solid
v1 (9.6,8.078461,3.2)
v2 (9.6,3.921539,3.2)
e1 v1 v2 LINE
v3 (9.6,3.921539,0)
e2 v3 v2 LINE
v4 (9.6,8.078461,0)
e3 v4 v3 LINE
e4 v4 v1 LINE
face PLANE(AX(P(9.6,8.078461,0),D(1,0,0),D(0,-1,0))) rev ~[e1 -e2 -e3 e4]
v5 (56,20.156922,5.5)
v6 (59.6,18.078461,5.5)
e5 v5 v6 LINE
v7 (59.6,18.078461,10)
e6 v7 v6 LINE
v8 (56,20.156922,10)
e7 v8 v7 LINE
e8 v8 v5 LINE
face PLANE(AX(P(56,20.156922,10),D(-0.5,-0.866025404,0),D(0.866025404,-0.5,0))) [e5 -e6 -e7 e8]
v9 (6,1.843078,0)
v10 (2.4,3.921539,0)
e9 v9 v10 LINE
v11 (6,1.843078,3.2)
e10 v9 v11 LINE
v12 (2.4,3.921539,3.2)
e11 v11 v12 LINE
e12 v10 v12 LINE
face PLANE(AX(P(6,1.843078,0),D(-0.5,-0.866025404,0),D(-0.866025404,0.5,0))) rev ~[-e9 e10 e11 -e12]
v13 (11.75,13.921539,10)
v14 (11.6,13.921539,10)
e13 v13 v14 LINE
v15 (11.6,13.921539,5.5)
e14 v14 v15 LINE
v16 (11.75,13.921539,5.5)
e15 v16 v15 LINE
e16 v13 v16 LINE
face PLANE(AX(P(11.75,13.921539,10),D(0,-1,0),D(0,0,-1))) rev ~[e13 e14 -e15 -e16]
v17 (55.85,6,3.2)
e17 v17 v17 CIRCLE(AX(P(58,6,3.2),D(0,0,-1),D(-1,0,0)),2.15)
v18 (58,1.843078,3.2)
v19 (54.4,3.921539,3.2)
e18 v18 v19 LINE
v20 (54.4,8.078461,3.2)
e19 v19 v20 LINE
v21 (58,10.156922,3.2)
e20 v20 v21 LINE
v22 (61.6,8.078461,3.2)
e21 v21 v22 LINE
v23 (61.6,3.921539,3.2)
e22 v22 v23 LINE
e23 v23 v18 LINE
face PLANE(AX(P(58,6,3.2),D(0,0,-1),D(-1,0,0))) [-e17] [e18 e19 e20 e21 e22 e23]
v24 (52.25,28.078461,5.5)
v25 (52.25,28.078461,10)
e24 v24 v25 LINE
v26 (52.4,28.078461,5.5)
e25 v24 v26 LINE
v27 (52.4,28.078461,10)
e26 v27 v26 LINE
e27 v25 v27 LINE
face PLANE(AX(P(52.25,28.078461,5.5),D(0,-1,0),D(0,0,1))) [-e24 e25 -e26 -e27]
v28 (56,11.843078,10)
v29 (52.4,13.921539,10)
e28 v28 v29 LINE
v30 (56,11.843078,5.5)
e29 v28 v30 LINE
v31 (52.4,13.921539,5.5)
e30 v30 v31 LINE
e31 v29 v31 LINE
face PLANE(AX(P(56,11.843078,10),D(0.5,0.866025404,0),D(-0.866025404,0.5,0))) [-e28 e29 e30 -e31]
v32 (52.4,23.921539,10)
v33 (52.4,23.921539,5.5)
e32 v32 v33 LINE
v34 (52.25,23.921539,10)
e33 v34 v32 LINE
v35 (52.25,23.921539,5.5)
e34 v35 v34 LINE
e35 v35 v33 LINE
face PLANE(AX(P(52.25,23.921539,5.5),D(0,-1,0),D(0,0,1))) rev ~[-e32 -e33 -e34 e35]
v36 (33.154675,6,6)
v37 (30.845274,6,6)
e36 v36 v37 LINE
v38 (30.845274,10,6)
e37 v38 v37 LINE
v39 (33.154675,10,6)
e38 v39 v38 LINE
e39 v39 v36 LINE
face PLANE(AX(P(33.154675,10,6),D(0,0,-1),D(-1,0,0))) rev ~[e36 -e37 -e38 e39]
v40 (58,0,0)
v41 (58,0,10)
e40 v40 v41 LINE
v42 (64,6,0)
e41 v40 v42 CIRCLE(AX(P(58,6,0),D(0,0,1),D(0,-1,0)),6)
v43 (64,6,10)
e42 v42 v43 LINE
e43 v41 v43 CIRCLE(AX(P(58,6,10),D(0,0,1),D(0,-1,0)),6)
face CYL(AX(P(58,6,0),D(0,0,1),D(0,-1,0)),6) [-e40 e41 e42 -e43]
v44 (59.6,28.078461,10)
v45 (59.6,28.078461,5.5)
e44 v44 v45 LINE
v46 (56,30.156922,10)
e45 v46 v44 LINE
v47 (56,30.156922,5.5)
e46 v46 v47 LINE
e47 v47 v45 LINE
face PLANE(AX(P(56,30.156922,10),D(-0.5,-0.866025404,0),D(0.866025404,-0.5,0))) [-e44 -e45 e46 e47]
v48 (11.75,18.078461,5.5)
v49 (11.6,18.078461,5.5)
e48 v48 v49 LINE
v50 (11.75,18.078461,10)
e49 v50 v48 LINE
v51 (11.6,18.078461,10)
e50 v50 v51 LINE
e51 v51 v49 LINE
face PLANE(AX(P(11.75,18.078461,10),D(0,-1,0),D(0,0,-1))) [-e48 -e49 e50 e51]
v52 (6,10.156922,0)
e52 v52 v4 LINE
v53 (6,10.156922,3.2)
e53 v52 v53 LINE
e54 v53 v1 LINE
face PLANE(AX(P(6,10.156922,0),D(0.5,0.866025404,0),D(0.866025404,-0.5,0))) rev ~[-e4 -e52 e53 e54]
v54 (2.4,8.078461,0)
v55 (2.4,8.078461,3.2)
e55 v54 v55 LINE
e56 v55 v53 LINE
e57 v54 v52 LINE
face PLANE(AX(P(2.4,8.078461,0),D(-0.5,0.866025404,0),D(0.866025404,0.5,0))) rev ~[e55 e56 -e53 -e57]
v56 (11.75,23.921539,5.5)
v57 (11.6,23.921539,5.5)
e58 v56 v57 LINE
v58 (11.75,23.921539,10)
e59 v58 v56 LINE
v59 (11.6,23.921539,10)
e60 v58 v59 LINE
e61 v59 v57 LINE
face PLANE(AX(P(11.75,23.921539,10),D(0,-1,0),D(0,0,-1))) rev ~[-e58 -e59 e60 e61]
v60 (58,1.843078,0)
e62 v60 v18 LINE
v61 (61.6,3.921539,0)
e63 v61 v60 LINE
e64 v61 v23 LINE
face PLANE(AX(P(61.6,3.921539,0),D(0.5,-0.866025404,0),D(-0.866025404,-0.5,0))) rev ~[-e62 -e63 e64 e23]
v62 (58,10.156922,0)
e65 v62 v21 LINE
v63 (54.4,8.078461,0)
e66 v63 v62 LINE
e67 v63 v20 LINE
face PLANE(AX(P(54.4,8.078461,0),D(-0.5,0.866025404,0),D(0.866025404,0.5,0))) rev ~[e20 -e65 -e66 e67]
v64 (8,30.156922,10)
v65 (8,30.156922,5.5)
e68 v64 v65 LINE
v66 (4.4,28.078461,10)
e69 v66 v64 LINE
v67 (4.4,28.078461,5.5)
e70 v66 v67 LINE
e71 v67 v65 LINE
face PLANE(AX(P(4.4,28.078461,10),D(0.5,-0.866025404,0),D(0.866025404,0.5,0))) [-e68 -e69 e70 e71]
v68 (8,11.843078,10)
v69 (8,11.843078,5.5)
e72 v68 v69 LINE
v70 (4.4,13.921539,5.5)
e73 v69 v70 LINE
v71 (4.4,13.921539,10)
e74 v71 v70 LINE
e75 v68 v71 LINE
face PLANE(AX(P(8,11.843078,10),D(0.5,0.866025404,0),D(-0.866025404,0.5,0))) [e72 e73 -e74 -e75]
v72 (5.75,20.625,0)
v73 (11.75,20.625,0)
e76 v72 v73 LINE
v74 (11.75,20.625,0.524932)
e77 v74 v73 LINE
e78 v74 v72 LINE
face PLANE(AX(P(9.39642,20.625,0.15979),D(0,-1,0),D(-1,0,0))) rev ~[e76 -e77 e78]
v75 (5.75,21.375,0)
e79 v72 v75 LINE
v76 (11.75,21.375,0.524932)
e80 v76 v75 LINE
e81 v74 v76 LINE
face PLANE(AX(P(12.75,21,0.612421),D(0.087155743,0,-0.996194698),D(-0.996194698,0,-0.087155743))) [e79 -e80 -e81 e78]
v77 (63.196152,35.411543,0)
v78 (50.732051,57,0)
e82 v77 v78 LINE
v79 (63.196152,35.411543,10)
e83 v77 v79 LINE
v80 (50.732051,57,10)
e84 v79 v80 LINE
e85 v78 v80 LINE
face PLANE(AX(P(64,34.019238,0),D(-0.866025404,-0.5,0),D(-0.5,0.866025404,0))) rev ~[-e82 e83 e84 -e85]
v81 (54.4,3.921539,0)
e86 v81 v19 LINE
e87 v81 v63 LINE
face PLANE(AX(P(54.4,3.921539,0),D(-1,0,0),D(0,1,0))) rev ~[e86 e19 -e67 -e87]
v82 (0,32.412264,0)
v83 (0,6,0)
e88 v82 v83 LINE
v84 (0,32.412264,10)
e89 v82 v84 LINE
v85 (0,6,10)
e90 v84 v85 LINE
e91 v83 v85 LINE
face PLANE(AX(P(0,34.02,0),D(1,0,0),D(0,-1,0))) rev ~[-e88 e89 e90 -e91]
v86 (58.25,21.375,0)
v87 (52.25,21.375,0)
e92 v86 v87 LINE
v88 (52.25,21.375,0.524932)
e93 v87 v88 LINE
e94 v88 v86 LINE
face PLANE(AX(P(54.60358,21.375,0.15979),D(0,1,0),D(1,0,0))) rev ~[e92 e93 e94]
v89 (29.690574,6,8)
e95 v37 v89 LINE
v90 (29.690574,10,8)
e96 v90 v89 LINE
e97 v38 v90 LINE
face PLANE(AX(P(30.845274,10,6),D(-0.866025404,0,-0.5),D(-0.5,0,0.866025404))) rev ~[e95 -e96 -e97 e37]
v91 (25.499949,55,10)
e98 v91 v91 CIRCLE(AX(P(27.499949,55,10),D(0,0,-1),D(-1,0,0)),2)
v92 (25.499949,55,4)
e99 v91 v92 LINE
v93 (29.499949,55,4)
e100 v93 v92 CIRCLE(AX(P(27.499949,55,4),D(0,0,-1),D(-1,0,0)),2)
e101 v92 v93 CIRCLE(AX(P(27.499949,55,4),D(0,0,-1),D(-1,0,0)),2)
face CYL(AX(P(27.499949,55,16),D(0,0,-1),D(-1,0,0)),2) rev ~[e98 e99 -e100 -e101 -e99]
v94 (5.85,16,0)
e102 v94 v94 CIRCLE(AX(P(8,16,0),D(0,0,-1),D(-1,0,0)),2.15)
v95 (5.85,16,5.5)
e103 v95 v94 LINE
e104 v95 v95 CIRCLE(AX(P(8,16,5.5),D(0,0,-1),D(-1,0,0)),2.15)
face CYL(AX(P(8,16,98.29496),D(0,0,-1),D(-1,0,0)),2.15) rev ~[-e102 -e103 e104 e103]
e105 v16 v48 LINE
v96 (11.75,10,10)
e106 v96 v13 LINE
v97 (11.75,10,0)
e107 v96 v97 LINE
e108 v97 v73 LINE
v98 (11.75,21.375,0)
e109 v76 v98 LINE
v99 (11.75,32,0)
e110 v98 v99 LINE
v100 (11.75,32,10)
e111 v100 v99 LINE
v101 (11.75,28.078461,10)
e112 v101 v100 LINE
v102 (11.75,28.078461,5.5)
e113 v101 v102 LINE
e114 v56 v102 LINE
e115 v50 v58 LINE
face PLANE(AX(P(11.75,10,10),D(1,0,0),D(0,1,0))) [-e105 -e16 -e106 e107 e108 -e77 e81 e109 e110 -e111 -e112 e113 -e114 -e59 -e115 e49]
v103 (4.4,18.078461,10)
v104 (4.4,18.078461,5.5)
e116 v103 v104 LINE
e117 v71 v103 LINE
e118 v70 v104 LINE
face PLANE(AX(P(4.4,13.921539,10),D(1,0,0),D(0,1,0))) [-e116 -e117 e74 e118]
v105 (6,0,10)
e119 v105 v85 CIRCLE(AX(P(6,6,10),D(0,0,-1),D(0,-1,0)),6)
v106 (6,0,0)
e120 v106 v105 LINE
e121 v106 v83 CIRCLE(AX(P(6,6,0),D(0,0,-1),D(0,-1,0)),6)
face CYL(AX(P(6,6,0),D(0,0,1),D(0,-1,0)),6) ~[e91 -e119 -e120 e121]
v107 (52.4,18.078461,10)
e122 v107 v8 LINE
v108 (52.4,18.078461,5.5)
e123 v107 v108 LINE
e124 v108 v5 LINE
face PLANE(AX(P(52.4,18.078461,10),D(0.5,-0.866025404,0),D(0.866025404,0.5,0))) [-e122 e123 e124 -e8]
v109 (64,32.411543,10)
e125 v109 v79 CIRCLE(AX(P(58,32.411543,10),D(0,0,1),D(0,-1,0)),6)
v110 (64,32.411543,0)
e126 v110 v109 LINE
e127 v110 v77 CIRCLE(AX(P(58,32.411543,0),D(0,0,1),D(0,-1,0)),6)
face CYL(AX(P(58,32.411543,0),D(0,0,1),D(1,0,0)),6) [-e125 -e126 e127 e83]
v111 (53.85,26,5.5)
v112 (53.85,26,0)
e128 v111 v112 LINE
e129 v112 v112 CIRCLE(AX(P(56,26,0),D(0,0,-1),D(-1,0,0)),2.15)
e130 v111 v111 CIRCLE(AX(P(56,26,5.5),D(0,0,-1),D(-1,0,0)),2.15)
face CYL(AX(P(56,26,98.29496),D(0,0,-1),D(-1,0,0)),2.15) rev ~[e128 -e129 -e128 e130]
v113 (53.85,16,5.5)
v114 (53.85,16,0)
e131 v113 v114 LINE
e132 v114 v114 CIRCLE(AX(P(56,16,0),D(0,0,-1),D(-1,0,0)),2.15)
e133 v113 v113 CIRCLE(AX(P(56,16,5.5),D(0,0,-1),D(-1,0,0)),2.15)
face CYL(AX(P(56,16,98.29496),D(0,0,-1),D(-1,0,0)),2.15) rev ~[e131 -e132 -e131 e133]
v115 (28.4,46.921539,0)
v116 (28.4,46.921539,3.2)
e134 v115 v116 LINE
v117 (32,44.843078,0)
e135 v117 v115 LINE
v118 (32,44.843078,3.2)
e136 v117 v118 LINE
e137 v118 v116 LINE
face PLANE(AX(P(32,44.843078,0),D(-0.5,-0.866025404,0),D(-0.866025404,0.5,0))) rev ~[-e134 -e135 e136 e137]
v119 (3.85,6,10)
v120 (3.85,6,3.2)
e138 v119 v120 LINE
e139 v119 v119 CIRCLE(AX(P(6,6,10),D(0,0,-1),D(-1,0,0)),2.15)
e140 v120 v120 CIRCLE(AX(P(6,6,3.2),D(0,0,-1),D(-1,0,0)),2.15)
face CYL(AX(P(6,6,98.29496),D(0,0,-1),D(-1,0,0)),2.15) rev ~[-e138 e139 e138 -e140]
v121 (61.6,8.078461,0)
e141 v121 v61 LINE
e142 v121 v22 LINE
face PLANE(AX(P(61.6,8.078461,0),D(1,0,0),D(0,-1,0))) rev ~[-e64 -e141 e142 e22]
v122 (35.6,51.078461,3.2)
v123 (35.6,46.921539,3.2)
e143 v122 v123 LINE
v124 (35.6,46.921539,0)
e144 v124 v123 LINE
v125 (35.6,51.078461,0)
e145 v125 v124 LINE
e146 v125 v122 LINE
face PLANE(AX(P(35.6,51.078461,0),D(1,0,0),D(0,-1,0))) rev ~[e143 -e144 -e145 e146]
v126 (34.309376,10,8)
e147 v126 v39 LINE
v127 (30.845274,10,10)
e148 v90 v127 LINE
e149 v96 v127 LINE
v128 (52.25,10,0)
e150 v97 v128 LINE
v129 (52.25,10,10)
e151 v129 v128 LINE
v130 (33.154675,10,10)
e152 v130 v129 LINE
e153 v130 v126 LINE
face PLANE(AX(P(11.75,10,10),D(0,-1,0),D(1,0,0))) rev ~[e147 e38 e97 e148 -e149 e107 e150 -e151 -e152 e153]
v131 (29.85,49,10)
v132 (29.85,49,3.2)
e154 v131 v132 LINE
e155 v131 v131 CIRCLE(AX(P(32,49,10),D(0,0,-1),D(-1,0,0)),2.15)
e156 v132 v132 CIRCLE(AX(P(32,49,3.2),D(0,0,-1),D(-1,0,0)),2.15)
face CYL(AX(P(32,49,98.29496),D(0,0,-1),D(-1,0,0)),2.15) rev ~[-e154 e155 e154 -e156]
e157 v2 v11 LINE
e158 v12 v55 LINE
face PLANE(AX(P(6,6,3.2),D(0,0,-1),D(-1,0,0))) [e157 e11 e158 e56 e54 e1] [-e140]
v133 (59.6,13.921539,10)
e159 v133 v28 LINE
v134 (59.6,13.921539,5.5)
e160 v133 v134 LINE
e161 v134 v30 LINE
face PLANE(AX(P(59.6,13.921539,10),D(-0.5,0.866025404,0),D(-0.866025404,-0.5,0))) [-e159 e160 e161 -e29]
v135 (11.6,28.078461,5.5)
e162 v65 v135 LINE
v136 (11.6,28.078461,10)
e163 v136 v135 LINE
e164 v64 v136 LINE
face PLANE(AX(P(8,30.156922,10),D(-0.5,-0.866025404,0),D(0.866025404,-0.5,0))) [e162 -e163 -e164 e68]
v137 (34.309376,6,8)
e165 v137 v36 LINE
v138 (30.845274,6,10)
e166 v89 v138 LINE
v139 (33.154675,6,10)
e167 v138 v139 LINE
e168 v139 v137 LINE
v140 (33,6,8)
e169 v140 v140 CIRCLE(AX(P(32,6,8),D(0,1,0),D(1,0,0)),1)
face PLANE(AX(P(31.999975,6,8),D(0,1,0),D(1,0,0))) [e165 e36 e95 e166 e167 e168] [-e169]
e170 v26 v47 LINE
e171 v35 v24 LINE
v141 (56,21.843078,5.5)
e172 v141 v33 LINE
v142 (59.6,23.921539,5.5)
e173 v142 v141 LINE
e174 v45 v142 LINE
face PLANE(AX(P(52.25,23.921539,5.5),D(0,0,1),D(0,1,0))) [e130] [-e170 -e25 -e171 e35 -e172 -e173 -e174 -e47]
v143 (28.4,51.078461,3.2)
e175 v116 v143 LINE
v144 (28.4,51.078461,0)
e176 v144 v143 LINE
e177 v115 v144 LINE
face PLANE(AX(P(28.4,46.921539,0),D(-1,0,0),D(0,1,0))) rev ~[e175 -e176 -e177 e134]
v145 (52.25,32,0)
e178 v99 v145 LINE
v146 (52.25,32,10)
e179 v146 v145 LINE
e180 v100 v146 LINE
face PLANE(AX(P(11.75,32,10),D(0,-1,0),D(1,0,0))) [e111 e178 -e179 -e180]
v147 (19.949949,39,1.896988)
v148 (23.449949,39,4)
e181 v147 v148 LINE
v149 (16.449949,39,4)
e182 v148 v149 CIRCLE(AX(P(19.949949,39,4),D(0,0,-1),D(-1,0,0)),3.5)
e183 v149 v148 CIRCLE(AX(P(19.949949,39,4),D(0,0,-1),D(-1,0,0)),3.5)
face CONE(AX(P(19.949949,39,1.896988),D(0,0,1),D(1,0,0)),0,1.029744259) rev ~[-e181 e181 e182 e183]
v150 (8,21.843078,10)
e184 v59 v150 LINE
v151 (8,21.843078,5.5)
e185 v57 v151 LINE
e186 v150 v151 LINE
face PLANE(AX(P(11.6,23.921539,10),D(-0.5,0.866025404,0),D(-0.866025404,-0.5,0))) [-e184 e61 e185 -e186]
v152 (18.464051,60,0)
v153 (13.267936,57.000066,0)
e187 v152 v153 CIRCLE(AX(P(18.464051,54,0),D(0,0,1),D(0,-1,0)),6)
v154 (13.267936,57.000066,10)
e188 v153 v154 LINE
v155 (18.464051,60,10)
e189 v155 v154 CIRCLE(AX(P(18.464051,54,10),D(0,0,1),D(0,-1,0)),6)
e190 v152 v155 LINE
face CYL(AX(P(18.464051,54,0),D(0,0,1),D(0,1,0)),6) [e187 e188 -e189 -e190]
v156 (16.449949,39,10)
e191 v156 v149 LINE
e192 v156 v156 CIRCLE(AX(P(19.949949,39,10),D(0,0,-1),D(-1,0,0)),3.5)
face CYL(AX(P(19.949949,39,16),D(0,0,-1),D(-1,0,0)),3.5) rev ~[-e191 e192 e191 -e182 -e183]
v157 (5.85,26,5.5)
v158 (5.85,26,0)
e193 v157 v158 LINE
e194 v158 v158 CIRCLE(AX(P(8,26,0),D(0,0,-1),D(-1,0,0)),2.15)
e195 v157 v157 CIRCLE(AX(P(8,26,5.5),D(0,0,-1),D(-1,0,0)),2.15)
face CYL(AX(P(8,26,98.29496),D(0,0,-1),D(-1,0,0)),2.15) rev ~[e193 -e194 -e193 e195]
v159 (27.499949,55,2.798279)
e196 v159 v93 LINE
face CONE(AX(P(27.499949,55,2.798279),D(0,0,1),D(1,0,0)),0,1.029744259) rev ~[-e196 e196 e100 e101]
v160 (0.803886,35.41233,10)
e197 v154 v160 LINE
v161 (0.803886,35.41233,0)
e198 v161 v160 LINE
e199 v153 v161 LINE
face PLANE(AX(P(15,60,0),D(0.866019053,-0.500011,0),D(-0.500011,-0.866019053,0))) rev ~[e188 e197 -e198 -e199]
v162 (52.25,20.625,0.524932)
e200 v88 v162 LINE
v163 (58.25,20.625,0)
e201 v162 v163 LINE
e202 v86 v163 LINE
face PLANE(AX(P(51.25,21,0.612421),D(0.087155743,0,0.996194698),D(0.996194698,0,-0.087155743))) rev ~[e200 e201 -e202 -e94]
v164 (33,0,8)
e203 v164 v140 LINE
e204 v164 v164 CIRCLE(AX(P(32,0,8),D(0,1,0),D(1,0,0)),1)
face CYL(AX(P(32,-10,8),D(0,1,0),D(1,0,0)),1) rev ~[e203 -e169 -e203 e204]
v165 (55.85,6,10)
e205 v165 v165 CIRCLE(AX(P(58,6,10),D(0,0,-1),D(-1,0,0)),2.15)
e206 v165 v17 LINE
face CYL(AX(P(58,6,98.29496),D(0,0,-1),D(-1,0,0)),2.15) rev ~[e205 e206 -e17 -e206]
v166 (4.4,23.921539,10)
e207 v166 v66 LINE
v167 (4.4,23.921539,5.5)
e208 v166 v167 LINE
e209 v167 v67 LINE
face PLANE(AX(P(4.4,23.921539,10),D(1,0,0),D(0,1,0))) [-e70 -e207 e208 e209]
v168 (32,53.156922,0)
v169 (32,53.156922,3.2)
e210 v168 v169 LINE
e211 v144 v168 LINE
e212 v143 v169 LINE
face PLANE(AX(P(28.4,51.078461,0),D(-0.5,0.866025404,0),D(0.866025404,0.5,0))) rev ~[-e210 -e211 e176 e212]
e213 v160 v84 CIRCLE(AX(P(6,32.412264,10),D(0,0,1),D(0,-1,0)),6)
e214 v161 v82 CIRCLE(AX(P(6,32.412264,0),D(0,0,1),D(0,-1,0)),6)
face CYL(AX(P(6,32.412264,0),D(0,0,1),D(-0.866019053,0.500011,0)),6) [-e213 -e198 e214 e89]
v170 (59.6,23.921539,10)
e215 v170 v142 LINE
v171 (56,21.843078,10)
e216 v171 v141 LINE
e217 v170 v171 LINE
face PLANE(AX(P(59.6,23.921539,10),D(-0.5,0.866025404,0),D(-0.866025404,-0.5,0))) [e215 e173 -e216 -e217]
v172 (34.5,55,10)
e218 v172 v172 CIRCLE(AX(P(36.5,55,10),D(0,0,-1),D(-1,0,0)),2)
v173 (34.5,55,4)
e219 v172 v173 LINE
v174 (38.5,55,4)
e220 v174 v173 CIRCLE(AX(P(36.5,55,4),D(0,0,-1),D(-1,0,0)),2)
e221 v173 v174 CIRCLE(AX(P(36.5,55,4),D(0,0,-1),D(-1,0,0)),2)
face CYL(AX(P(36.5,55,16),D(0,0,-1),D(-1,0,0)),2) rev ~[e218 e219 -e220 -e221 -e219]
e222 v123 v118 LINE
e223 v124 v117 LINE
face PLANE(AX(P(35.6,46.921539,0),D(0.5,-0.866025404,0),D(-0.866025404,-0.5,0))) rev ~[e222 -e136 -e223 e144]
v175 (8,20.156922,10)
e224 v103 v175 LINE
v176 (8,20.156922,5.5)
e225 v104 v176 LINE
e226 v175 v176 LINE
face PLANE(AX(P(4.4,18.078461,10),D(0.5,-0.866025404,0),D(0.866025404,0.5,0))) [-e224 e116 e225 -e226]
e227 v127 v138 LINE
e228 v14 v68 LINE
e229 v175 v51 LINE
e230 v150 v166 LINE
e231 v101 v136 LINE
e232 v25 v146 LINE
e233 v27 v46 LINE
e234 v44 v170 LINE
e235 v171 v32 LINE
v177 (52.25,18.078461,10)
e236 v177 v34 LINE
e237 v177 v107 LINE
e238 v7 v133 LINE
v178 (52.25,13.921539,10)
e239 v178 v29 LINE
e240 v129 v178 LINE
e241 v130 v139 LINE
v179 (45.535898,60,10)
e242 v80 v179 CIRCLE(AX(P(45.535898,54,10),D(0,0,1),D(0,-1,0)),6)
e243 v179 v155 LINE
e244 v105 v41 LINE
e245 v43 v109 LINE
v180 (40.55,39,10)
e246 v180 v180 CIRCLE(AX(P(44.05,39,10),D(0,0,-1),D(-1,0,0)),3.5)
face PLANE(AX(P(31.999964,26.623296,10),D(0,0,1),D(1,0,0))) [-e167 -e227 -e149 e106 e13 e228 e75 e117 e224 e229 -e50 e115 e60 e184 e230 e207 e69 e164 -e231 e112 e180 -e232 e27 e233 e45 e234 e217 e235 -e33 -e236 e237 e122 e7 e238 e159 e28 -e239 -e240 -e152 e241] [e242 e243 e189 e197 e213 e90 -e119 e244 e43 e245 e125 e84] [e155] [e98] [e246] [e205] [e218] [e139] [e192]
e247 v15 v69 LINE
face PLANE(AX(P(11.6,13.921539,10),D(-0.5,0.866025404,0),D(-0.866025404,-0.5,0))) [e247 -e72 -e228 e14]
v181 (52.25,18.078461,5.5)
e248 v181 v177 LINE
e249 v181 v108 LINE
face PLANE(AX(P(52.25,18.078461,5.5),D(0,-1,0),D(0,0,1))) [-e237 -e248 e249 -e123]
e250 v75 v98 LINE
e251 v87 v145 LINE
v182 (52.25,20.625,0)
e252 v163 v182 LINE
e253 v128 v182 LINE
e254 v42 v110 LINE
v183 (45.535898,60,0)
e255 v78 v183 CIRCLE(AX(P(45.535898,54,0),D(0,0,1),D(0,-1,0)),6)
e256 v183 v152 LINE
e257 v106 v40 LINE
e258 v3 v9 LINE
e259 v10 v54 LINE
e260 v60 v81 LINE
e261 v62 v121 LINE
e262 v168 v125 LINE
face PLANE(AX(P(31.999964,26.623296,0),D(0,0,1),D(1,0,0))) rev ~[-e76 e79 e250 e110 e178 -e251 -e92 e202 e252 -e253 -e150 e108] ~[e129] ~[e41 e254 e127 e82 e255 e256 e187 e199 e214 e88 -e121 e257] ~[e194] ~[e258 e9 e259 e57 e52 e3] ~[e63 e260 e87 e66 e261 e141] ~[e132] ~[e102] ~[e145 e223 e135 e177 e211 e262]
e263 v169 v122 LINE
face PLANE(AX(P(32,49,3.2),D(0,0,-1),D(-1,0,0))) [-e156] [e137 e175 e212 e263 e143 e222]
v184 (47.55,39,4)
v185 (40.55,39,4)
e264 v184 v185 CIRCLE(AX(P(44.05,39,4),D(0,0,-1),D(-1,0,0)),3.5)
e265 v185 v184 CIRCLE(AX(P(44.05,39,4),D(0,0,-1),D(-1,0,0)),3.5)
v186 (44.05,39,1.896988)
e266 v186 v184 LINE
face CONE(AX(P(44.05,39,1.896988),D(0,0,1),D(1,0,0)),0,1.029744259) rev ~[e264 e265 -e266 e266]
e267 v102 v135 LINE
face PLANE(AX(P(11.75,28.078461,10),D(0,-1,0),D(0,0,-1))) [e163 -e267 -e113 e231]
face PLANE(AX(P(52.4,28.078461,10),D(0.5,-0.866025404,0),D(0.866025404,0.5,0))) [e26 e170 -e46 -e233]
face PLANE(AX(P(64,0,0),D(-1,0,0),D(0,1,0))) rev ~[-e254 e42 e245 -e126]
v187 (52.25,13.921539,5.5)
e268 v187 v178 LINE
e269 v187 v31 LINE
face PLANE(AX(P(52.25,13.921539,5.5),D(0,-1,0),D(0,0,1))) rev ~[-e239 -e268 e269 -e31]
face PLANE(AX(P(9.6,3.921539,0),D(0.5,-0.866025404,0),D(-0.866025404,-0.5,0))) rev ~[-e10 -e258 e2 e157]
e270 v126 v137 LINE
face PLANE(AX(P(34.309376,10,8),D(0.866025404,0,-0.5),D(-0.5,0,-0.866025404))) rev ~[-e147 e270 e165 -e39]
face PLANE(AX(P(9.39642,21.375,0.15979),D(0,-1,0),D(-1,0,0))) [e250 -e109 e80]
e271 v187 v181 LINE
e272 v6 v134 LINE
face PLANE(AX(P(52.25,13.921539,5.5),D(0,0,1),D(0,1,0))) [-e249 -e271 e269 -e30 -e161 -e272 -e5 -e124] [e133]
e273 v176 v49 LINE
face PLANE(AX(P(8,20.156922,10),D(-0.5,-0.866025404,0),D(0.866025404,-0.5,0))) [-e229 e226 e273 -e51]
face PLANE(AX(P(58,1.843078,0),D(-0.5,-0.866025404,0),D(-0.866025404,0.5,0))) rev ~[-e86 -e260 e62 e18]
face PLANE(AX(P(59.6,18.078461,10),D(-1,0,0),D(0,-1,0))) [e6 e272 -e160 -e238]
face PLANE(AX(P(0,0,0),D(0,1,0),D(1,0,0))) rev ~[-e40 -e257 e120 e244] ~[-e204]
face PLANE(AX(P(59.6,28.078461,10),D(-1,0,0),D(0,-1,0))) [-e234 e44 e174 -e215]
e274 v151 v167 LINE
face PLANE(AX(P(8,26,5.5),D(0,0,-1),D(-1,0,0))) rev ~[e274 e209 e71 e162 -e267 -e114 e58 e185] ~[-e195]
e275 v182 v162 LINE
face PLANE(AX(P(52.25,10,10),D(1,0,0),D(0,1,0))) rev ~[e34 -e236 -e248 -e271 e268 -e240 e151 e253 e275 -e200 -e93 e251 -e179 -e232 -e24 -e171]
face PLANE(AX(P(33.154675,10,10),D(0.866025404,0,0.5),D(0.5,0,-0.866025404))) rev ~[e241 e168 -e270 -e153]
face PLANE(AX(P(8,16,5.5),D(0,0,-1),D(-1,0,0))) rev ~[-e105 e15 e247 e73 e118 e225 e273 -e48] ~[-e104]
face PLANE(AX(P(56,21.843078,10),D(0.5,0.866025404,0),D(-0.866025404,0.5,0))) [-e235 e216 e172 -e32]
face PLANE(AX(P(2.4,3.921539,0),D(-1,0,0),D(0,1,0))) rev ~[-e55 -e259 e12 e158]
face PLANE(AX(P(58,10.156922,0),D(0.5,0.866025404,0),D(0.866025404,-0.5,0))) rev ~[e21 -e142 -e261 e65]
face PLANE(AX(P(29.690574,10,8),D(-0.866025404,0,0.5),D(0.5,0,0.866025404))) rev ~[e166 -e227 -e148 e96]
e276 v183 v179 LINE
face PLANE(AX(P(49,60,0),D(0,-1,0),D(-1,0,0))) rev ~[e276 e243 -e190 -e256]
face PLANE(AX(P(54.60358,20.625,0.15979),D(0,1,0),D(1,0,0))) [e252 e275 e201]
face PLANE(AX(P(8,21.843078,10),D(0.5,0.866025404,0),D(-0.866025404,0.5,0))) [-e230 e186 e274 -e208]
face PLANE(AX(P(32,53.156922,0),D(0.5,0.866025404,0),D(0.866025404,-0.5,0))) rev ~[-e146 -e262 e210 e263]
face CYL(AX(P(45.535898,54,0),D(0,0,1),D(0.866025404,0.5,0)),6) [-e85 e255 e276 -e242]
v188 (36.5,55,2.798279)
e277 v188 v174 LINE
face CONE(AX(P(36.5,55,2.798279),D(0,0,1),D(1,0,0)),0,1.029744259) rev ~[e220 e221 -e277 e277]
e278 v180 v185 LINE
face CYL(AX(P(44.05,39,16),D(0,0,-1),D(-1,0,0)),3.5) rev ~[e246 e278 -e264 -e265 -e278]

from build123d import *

# Parameters (mm, degrees)
EXTRUDE_1_DEPTH           = 10
FILLET_1_R                = 6
SKETCH_2_W                = 40.5
SKETCH_2_H                = 22
CUT_EXTRUDE_1_DEPTH       = 11
HOLE_WIZARD_4_0_1_D       = 4
HOLE_WIZARD_4_0_1_DEPTH   = 6
HOLE_WIZARD_4_0_1_TIP     = 1.201721238
HOLE_WIZARD_7_0_7_1_D     = 7
HOLE_WIZARD_7_0_7_1_DEPTH = 6
HOLE_WIZARD_7_0_7_1_TIP   = 2.103012167
HOLE_WIZARD_M41_D         = 4.3
CUT_EXTRUDE_4_DEPTH       = 4.5
HOLE_WIZARD_M42_D         = 4.3
CUT_EXTRUDE_7_DEPTH       = 3.2
SKETCH_19_W               = 4.5
SKETCH_19_H               = 4.156921938
CUT_EXTRUDE_13_DEPTH      = 0.15
SKETCH_21_W               = 4.5
SKETCH_21_H               = 4.156921938
CUT_EXTRUDE_14_DEPTH      = 0.15
SKETCH_22_W               = 4.5
SKETCH_22_H               = 4.156921938
CUT_EXTRUDE_15_DEPTH      = 0.15
SKETCH_23_W               = 4.5
SKETCH_23_H               = 4.156921938
CUT_EXTRUDE_16_DEPTH      = 0.15
CUT_EXTRUDE_17_DEPTH      = 4
HOLE_WIZARD_M2_21_D       = 2
HOLE_WIZARD_M2_21_DEPTH   = 10
HOLE_WIZARD_M2_21_TIP     = 0.600860619
CUT_EXTRUDE_19_DEPTH      = 0.375
CUT_EXTRUDE_20_DEPTH      = 0.375


with BuildPart() as part:
    # Эскиз1 → Бобышка-Вытянуть1 (new body)
    with BuildSketch(Plane.XY):
        Polygon((0, 0), (64, 0), (64, 34.019237886), (49, 60), (15, 60), (0, 34.02), align=None)
    extrude(amount=EXTRUDE_1_DEPTH)

    # Скругление1
    fillet_1_edges = [part.edges().sort_by_distance(p)[0] for p in [
        (0, 34.02, 5),
        (15, 60, 5),
        (49, 60, 5),
        (64, 34.019237886, 5),
        (64, 0, 5),
        (0, 0, 5),
    ]]
    fillet(fillet_1_edges, radius=FILLET_1_R)

    # Эскиз2 → Вырез-Вытянуть1 (cut, through all)
    with BuildSketch(Plane.XY.offset(10)):
        with Locations((32, 21)):
            Rectangle(SKETCH_2_W, SKETCH_2_H)
    extrude(amount=-CUT_EXTRUDE_1_DEPTH, mode=Mode.SUBTRACT)

    # Отверстия под штифты Ø4.0 мм1
    with Locations(Plane.XY.offset(10)):
        with Locations((27.499949191, 55), (36.5, 55)):
            Hole(HOLE_WIZARD_4_0_1_D / 2, depth=HOLE_WIZARD_4_0_1_DEPTH)
            with Locations((0, 0, -(HOLE_WIZARD_4_0_1_DEPTH + HOLE_WIZARD_4_0_1_TIP / 2))):  # 118° drill point
                Cone(0, HOLE_WIZARD_4_0_1_D / 2, HOLE_WIZARD_4_0_1_TIP, mode=Mode.SUBTRACT)

    # Диаметр отверстия Ø7.0 (7)1
    with Locations(Plane.XY.offset(10)):
        with Locations((19.949949191, 39), (44.05, 39)):
            Hole(HOLE_WIZARD_7_0_7_1_D / 2, depth=HOLE_WIZARD_7_0_7_1_DEPTH)
            with Locations((0, 0, -(HOLE_WIZARD_7_0_7_1_DEPTH + HOLE_WIZARD_7_0_7_1_TIP / 2))):  # 118° drill point
                Cone(0, HOLE_WIZARD_7_0_7_1_D / 2, HOLE_WIZARD_7_0_7_1_TIP, mode=Mode.SUBTRACT)

    # Сверло под метчик  спиральное M41 (through all)
    with Locations(Plane.XY.offset(10)):
        with Locations((56, 26), (56, 16), (8, 26), (8, 16)):
            Hole(HOLE_WIZARD_M41_D / 2)

    # Эскиз9 → Вырез-Вытянуть4 (cut)
    with BuildSketch(Plane(origin=(0, 0, 10), x_dir=(-1, 0, 0), z_dir=(0, 0, -1))):
        Polygon((-56, 30.156921938), (-59.6, 28.078460969), (-59.6, 23.921539031), (-56, 21.843078062), (-52.4, 23.921539031), (-52.4, 28.078460969), align=None)
        Polygon((-56, 20.156921938), (-59.6, 18.078460969), (-59.6, 13.921539031), (-56, 11.843078062), (-52.4, 13.921539031), (-52.4, 18.078460969), align=None)
        Polygon((-8, 30.156921938), (-11.6, 28.078460969), (-11.6, 23.921539031), (-8, 21.843078062), (-4.4, 23.921539031), (-4.4, 28.078460969), align=None)
        Polygon((-8, 20.156921938), (-11.6, 18.078460969), (-11.6, 13.921539031), (-8, 11.843078062), (-4.4, 13.921539031), (-4.4, 18.078460969), align=None)
    extrude(amount=CUT_EXTRUDE_4_DEPTH, mode=Mode.SUBTRACT)

    # Сверло под метчик  спиральное M42 (through all)
    with Locations(Plane.XY.offset(10)):
        with Locations((32, 49), (6, 6), (58, 6)):
            Hole(HOLE_WIZARD_M42_D / 2)

    # Эскиз18 → Вырез-Вытянуть7 (cut)
    with BuildSketch(Plane(origin=(0, 0, 0), x_dir=(-1, 0, 0), z_dir=(0, 0, -1))):
        Polygon((-32, 53.156921938), (-35.6, 51.078460969), (-35.6, 46.921539031), (-32, 44.843078062), (-28.4, 46.921539031), (-28.4, 51.078460969), align=None)
        Polygon((-58, 10.156921938), (-61.6, 8.078460969), (-61.6, 3.921539031), (-58, 1.843078062), (-54.4, 3.921539031), (-54.4, 8.078460969), align=None)
        Polygon((-6, 10.156921938), (-9.6, 8.078460969), (-9.6, 3.921539031), (-6, 1.843078062), (-2.4, 3.921539031), (-2.4, 8.078460969), align=None)
    extrude(amount=-CUT_EXTRUDE_7_DEPTH, mode=Mode.SUBTRACT)

    # Эскиз19 → Вырез-Вытянуть13 (cut)
    with BuildSketch(Plane.ZY.offset(-52.25)):
        with Locations((7.75, 26)):
            Rectangle(SKETCH_19_W, SKETCH_19_H)
    extrude(amount=-CUT_EXTRUDE_13_DEPTH, mode=Mode.SUBTRACT)

    # Эскиз21 → Вырез-Вытянуть14 (cut)
    with BuildSketch(Plane(origin=(11.75, 0, 0), x_dir=(0, 0, -1), z_dir=(1, 0, 0))):
        with Locations((-7.75, 26)):
            Rectangle(SKETCH_21_W, SKETCH_21_H)
    extrude(amount=-CUT_EXTRUDE_14_DEPTH, mode=Mode.SUBTRACT)

    # Эскиз22 → Вырез-Вытянуть15 (cut)
    with BuildSketch(Plane.ZY.offset(-52.25)):
        with Locations((7.75, 16)):
            Rectangle(SKETCH_22_W, SKETCH_22_H)
    extrude(amount=-CUT_EXTRUDE_15_DEPTH, mode=Mode.SUBTRACT)

    # Эскиз23 → Вырез-Вытянуть16 (cut)
    with BuildSketch(Plane(origin=(11.75, 0, 0), x_dir=(0, 0, -1), z_dir=(1, 0, 0))):
        with Locations((-7.75, 16)):
            Rectangle(SKETCH_23_W, SKETCH_23_H)
    extrude(amount=-CUT_EXTRUDE_16_DEPTH, mode=Mode.SUBTRACT)

    # Эскиз12 → Вырез-Вытянуть17 (cut)
    with BuildSketch(Plane(origin=(0, 10, 0), x_dir=(1, 0, 0), z_dir=(0, 1, 0))):
        Polygon((34.309375673, -8), (33.154675134, -6), (30.845274057, -6), (29.690573519, -8), (30.845274057, -10), (33.154675134, -10), align=None)
    extrude(amount=-CUT_EXTRUDE_17_DEPTH, mode=Mode.SUBTRACT)

    # Сверло под метчик  спиральное M2.21
    with Locations(Plane(origin=(0, 0, 0), x_dir=(-1, 0, 0), z_dir=(0, -1, 0))):
        with Locations((-32, -8)):
            Hole(HOLE_WIZARD_M2_21_D / 2, depth=HOLE_WIZARD_M2_21_DEPTH)
            with Locations((0, 0, -(HOLE_WIZARD_M2_21_DEPTH + HOLE_WIZARD_M2_21_TIP / 2))):  # 118° drill point
                Cone(0, HOLE_WIZARD_M2_21_D / 2, HOLE_WIZARD_M2_21_TIP, mode=Mode.SUBTRACT)

    # Эскиз29 → Вырез-Вытянуть19 (cut, symmetric)
    with BuildSketch(Plane(origin=(0, 21, 0), x_dir=(1, 0, 0), z_dir=(0, 1, 0))):
        Polygon((5.75, 0), (12.75, 0), (12.75, -0.612420645), align=None)
    extrude(amount=CUT_EXTRUDE_19_DEPTH, both=True, mode=Mode.SUBTRACT)

    # Эскиз29<3> → Вырез-Вытянуть20 (cut, symmetric)
    with BuildSketch(Plane(origin=(0, 21, 0), x_dir=(1, 0, 0), z_dir=(0, 1, 0))):
        Polygon((51.25, 0), (51.25, -0.612420645), (58.25, 0), align=None)
    extrude(amount=CUT_EXTRUDE_20_DEPTH, both=True, mode=Mode.SUBTRACT)


solid = part.part
